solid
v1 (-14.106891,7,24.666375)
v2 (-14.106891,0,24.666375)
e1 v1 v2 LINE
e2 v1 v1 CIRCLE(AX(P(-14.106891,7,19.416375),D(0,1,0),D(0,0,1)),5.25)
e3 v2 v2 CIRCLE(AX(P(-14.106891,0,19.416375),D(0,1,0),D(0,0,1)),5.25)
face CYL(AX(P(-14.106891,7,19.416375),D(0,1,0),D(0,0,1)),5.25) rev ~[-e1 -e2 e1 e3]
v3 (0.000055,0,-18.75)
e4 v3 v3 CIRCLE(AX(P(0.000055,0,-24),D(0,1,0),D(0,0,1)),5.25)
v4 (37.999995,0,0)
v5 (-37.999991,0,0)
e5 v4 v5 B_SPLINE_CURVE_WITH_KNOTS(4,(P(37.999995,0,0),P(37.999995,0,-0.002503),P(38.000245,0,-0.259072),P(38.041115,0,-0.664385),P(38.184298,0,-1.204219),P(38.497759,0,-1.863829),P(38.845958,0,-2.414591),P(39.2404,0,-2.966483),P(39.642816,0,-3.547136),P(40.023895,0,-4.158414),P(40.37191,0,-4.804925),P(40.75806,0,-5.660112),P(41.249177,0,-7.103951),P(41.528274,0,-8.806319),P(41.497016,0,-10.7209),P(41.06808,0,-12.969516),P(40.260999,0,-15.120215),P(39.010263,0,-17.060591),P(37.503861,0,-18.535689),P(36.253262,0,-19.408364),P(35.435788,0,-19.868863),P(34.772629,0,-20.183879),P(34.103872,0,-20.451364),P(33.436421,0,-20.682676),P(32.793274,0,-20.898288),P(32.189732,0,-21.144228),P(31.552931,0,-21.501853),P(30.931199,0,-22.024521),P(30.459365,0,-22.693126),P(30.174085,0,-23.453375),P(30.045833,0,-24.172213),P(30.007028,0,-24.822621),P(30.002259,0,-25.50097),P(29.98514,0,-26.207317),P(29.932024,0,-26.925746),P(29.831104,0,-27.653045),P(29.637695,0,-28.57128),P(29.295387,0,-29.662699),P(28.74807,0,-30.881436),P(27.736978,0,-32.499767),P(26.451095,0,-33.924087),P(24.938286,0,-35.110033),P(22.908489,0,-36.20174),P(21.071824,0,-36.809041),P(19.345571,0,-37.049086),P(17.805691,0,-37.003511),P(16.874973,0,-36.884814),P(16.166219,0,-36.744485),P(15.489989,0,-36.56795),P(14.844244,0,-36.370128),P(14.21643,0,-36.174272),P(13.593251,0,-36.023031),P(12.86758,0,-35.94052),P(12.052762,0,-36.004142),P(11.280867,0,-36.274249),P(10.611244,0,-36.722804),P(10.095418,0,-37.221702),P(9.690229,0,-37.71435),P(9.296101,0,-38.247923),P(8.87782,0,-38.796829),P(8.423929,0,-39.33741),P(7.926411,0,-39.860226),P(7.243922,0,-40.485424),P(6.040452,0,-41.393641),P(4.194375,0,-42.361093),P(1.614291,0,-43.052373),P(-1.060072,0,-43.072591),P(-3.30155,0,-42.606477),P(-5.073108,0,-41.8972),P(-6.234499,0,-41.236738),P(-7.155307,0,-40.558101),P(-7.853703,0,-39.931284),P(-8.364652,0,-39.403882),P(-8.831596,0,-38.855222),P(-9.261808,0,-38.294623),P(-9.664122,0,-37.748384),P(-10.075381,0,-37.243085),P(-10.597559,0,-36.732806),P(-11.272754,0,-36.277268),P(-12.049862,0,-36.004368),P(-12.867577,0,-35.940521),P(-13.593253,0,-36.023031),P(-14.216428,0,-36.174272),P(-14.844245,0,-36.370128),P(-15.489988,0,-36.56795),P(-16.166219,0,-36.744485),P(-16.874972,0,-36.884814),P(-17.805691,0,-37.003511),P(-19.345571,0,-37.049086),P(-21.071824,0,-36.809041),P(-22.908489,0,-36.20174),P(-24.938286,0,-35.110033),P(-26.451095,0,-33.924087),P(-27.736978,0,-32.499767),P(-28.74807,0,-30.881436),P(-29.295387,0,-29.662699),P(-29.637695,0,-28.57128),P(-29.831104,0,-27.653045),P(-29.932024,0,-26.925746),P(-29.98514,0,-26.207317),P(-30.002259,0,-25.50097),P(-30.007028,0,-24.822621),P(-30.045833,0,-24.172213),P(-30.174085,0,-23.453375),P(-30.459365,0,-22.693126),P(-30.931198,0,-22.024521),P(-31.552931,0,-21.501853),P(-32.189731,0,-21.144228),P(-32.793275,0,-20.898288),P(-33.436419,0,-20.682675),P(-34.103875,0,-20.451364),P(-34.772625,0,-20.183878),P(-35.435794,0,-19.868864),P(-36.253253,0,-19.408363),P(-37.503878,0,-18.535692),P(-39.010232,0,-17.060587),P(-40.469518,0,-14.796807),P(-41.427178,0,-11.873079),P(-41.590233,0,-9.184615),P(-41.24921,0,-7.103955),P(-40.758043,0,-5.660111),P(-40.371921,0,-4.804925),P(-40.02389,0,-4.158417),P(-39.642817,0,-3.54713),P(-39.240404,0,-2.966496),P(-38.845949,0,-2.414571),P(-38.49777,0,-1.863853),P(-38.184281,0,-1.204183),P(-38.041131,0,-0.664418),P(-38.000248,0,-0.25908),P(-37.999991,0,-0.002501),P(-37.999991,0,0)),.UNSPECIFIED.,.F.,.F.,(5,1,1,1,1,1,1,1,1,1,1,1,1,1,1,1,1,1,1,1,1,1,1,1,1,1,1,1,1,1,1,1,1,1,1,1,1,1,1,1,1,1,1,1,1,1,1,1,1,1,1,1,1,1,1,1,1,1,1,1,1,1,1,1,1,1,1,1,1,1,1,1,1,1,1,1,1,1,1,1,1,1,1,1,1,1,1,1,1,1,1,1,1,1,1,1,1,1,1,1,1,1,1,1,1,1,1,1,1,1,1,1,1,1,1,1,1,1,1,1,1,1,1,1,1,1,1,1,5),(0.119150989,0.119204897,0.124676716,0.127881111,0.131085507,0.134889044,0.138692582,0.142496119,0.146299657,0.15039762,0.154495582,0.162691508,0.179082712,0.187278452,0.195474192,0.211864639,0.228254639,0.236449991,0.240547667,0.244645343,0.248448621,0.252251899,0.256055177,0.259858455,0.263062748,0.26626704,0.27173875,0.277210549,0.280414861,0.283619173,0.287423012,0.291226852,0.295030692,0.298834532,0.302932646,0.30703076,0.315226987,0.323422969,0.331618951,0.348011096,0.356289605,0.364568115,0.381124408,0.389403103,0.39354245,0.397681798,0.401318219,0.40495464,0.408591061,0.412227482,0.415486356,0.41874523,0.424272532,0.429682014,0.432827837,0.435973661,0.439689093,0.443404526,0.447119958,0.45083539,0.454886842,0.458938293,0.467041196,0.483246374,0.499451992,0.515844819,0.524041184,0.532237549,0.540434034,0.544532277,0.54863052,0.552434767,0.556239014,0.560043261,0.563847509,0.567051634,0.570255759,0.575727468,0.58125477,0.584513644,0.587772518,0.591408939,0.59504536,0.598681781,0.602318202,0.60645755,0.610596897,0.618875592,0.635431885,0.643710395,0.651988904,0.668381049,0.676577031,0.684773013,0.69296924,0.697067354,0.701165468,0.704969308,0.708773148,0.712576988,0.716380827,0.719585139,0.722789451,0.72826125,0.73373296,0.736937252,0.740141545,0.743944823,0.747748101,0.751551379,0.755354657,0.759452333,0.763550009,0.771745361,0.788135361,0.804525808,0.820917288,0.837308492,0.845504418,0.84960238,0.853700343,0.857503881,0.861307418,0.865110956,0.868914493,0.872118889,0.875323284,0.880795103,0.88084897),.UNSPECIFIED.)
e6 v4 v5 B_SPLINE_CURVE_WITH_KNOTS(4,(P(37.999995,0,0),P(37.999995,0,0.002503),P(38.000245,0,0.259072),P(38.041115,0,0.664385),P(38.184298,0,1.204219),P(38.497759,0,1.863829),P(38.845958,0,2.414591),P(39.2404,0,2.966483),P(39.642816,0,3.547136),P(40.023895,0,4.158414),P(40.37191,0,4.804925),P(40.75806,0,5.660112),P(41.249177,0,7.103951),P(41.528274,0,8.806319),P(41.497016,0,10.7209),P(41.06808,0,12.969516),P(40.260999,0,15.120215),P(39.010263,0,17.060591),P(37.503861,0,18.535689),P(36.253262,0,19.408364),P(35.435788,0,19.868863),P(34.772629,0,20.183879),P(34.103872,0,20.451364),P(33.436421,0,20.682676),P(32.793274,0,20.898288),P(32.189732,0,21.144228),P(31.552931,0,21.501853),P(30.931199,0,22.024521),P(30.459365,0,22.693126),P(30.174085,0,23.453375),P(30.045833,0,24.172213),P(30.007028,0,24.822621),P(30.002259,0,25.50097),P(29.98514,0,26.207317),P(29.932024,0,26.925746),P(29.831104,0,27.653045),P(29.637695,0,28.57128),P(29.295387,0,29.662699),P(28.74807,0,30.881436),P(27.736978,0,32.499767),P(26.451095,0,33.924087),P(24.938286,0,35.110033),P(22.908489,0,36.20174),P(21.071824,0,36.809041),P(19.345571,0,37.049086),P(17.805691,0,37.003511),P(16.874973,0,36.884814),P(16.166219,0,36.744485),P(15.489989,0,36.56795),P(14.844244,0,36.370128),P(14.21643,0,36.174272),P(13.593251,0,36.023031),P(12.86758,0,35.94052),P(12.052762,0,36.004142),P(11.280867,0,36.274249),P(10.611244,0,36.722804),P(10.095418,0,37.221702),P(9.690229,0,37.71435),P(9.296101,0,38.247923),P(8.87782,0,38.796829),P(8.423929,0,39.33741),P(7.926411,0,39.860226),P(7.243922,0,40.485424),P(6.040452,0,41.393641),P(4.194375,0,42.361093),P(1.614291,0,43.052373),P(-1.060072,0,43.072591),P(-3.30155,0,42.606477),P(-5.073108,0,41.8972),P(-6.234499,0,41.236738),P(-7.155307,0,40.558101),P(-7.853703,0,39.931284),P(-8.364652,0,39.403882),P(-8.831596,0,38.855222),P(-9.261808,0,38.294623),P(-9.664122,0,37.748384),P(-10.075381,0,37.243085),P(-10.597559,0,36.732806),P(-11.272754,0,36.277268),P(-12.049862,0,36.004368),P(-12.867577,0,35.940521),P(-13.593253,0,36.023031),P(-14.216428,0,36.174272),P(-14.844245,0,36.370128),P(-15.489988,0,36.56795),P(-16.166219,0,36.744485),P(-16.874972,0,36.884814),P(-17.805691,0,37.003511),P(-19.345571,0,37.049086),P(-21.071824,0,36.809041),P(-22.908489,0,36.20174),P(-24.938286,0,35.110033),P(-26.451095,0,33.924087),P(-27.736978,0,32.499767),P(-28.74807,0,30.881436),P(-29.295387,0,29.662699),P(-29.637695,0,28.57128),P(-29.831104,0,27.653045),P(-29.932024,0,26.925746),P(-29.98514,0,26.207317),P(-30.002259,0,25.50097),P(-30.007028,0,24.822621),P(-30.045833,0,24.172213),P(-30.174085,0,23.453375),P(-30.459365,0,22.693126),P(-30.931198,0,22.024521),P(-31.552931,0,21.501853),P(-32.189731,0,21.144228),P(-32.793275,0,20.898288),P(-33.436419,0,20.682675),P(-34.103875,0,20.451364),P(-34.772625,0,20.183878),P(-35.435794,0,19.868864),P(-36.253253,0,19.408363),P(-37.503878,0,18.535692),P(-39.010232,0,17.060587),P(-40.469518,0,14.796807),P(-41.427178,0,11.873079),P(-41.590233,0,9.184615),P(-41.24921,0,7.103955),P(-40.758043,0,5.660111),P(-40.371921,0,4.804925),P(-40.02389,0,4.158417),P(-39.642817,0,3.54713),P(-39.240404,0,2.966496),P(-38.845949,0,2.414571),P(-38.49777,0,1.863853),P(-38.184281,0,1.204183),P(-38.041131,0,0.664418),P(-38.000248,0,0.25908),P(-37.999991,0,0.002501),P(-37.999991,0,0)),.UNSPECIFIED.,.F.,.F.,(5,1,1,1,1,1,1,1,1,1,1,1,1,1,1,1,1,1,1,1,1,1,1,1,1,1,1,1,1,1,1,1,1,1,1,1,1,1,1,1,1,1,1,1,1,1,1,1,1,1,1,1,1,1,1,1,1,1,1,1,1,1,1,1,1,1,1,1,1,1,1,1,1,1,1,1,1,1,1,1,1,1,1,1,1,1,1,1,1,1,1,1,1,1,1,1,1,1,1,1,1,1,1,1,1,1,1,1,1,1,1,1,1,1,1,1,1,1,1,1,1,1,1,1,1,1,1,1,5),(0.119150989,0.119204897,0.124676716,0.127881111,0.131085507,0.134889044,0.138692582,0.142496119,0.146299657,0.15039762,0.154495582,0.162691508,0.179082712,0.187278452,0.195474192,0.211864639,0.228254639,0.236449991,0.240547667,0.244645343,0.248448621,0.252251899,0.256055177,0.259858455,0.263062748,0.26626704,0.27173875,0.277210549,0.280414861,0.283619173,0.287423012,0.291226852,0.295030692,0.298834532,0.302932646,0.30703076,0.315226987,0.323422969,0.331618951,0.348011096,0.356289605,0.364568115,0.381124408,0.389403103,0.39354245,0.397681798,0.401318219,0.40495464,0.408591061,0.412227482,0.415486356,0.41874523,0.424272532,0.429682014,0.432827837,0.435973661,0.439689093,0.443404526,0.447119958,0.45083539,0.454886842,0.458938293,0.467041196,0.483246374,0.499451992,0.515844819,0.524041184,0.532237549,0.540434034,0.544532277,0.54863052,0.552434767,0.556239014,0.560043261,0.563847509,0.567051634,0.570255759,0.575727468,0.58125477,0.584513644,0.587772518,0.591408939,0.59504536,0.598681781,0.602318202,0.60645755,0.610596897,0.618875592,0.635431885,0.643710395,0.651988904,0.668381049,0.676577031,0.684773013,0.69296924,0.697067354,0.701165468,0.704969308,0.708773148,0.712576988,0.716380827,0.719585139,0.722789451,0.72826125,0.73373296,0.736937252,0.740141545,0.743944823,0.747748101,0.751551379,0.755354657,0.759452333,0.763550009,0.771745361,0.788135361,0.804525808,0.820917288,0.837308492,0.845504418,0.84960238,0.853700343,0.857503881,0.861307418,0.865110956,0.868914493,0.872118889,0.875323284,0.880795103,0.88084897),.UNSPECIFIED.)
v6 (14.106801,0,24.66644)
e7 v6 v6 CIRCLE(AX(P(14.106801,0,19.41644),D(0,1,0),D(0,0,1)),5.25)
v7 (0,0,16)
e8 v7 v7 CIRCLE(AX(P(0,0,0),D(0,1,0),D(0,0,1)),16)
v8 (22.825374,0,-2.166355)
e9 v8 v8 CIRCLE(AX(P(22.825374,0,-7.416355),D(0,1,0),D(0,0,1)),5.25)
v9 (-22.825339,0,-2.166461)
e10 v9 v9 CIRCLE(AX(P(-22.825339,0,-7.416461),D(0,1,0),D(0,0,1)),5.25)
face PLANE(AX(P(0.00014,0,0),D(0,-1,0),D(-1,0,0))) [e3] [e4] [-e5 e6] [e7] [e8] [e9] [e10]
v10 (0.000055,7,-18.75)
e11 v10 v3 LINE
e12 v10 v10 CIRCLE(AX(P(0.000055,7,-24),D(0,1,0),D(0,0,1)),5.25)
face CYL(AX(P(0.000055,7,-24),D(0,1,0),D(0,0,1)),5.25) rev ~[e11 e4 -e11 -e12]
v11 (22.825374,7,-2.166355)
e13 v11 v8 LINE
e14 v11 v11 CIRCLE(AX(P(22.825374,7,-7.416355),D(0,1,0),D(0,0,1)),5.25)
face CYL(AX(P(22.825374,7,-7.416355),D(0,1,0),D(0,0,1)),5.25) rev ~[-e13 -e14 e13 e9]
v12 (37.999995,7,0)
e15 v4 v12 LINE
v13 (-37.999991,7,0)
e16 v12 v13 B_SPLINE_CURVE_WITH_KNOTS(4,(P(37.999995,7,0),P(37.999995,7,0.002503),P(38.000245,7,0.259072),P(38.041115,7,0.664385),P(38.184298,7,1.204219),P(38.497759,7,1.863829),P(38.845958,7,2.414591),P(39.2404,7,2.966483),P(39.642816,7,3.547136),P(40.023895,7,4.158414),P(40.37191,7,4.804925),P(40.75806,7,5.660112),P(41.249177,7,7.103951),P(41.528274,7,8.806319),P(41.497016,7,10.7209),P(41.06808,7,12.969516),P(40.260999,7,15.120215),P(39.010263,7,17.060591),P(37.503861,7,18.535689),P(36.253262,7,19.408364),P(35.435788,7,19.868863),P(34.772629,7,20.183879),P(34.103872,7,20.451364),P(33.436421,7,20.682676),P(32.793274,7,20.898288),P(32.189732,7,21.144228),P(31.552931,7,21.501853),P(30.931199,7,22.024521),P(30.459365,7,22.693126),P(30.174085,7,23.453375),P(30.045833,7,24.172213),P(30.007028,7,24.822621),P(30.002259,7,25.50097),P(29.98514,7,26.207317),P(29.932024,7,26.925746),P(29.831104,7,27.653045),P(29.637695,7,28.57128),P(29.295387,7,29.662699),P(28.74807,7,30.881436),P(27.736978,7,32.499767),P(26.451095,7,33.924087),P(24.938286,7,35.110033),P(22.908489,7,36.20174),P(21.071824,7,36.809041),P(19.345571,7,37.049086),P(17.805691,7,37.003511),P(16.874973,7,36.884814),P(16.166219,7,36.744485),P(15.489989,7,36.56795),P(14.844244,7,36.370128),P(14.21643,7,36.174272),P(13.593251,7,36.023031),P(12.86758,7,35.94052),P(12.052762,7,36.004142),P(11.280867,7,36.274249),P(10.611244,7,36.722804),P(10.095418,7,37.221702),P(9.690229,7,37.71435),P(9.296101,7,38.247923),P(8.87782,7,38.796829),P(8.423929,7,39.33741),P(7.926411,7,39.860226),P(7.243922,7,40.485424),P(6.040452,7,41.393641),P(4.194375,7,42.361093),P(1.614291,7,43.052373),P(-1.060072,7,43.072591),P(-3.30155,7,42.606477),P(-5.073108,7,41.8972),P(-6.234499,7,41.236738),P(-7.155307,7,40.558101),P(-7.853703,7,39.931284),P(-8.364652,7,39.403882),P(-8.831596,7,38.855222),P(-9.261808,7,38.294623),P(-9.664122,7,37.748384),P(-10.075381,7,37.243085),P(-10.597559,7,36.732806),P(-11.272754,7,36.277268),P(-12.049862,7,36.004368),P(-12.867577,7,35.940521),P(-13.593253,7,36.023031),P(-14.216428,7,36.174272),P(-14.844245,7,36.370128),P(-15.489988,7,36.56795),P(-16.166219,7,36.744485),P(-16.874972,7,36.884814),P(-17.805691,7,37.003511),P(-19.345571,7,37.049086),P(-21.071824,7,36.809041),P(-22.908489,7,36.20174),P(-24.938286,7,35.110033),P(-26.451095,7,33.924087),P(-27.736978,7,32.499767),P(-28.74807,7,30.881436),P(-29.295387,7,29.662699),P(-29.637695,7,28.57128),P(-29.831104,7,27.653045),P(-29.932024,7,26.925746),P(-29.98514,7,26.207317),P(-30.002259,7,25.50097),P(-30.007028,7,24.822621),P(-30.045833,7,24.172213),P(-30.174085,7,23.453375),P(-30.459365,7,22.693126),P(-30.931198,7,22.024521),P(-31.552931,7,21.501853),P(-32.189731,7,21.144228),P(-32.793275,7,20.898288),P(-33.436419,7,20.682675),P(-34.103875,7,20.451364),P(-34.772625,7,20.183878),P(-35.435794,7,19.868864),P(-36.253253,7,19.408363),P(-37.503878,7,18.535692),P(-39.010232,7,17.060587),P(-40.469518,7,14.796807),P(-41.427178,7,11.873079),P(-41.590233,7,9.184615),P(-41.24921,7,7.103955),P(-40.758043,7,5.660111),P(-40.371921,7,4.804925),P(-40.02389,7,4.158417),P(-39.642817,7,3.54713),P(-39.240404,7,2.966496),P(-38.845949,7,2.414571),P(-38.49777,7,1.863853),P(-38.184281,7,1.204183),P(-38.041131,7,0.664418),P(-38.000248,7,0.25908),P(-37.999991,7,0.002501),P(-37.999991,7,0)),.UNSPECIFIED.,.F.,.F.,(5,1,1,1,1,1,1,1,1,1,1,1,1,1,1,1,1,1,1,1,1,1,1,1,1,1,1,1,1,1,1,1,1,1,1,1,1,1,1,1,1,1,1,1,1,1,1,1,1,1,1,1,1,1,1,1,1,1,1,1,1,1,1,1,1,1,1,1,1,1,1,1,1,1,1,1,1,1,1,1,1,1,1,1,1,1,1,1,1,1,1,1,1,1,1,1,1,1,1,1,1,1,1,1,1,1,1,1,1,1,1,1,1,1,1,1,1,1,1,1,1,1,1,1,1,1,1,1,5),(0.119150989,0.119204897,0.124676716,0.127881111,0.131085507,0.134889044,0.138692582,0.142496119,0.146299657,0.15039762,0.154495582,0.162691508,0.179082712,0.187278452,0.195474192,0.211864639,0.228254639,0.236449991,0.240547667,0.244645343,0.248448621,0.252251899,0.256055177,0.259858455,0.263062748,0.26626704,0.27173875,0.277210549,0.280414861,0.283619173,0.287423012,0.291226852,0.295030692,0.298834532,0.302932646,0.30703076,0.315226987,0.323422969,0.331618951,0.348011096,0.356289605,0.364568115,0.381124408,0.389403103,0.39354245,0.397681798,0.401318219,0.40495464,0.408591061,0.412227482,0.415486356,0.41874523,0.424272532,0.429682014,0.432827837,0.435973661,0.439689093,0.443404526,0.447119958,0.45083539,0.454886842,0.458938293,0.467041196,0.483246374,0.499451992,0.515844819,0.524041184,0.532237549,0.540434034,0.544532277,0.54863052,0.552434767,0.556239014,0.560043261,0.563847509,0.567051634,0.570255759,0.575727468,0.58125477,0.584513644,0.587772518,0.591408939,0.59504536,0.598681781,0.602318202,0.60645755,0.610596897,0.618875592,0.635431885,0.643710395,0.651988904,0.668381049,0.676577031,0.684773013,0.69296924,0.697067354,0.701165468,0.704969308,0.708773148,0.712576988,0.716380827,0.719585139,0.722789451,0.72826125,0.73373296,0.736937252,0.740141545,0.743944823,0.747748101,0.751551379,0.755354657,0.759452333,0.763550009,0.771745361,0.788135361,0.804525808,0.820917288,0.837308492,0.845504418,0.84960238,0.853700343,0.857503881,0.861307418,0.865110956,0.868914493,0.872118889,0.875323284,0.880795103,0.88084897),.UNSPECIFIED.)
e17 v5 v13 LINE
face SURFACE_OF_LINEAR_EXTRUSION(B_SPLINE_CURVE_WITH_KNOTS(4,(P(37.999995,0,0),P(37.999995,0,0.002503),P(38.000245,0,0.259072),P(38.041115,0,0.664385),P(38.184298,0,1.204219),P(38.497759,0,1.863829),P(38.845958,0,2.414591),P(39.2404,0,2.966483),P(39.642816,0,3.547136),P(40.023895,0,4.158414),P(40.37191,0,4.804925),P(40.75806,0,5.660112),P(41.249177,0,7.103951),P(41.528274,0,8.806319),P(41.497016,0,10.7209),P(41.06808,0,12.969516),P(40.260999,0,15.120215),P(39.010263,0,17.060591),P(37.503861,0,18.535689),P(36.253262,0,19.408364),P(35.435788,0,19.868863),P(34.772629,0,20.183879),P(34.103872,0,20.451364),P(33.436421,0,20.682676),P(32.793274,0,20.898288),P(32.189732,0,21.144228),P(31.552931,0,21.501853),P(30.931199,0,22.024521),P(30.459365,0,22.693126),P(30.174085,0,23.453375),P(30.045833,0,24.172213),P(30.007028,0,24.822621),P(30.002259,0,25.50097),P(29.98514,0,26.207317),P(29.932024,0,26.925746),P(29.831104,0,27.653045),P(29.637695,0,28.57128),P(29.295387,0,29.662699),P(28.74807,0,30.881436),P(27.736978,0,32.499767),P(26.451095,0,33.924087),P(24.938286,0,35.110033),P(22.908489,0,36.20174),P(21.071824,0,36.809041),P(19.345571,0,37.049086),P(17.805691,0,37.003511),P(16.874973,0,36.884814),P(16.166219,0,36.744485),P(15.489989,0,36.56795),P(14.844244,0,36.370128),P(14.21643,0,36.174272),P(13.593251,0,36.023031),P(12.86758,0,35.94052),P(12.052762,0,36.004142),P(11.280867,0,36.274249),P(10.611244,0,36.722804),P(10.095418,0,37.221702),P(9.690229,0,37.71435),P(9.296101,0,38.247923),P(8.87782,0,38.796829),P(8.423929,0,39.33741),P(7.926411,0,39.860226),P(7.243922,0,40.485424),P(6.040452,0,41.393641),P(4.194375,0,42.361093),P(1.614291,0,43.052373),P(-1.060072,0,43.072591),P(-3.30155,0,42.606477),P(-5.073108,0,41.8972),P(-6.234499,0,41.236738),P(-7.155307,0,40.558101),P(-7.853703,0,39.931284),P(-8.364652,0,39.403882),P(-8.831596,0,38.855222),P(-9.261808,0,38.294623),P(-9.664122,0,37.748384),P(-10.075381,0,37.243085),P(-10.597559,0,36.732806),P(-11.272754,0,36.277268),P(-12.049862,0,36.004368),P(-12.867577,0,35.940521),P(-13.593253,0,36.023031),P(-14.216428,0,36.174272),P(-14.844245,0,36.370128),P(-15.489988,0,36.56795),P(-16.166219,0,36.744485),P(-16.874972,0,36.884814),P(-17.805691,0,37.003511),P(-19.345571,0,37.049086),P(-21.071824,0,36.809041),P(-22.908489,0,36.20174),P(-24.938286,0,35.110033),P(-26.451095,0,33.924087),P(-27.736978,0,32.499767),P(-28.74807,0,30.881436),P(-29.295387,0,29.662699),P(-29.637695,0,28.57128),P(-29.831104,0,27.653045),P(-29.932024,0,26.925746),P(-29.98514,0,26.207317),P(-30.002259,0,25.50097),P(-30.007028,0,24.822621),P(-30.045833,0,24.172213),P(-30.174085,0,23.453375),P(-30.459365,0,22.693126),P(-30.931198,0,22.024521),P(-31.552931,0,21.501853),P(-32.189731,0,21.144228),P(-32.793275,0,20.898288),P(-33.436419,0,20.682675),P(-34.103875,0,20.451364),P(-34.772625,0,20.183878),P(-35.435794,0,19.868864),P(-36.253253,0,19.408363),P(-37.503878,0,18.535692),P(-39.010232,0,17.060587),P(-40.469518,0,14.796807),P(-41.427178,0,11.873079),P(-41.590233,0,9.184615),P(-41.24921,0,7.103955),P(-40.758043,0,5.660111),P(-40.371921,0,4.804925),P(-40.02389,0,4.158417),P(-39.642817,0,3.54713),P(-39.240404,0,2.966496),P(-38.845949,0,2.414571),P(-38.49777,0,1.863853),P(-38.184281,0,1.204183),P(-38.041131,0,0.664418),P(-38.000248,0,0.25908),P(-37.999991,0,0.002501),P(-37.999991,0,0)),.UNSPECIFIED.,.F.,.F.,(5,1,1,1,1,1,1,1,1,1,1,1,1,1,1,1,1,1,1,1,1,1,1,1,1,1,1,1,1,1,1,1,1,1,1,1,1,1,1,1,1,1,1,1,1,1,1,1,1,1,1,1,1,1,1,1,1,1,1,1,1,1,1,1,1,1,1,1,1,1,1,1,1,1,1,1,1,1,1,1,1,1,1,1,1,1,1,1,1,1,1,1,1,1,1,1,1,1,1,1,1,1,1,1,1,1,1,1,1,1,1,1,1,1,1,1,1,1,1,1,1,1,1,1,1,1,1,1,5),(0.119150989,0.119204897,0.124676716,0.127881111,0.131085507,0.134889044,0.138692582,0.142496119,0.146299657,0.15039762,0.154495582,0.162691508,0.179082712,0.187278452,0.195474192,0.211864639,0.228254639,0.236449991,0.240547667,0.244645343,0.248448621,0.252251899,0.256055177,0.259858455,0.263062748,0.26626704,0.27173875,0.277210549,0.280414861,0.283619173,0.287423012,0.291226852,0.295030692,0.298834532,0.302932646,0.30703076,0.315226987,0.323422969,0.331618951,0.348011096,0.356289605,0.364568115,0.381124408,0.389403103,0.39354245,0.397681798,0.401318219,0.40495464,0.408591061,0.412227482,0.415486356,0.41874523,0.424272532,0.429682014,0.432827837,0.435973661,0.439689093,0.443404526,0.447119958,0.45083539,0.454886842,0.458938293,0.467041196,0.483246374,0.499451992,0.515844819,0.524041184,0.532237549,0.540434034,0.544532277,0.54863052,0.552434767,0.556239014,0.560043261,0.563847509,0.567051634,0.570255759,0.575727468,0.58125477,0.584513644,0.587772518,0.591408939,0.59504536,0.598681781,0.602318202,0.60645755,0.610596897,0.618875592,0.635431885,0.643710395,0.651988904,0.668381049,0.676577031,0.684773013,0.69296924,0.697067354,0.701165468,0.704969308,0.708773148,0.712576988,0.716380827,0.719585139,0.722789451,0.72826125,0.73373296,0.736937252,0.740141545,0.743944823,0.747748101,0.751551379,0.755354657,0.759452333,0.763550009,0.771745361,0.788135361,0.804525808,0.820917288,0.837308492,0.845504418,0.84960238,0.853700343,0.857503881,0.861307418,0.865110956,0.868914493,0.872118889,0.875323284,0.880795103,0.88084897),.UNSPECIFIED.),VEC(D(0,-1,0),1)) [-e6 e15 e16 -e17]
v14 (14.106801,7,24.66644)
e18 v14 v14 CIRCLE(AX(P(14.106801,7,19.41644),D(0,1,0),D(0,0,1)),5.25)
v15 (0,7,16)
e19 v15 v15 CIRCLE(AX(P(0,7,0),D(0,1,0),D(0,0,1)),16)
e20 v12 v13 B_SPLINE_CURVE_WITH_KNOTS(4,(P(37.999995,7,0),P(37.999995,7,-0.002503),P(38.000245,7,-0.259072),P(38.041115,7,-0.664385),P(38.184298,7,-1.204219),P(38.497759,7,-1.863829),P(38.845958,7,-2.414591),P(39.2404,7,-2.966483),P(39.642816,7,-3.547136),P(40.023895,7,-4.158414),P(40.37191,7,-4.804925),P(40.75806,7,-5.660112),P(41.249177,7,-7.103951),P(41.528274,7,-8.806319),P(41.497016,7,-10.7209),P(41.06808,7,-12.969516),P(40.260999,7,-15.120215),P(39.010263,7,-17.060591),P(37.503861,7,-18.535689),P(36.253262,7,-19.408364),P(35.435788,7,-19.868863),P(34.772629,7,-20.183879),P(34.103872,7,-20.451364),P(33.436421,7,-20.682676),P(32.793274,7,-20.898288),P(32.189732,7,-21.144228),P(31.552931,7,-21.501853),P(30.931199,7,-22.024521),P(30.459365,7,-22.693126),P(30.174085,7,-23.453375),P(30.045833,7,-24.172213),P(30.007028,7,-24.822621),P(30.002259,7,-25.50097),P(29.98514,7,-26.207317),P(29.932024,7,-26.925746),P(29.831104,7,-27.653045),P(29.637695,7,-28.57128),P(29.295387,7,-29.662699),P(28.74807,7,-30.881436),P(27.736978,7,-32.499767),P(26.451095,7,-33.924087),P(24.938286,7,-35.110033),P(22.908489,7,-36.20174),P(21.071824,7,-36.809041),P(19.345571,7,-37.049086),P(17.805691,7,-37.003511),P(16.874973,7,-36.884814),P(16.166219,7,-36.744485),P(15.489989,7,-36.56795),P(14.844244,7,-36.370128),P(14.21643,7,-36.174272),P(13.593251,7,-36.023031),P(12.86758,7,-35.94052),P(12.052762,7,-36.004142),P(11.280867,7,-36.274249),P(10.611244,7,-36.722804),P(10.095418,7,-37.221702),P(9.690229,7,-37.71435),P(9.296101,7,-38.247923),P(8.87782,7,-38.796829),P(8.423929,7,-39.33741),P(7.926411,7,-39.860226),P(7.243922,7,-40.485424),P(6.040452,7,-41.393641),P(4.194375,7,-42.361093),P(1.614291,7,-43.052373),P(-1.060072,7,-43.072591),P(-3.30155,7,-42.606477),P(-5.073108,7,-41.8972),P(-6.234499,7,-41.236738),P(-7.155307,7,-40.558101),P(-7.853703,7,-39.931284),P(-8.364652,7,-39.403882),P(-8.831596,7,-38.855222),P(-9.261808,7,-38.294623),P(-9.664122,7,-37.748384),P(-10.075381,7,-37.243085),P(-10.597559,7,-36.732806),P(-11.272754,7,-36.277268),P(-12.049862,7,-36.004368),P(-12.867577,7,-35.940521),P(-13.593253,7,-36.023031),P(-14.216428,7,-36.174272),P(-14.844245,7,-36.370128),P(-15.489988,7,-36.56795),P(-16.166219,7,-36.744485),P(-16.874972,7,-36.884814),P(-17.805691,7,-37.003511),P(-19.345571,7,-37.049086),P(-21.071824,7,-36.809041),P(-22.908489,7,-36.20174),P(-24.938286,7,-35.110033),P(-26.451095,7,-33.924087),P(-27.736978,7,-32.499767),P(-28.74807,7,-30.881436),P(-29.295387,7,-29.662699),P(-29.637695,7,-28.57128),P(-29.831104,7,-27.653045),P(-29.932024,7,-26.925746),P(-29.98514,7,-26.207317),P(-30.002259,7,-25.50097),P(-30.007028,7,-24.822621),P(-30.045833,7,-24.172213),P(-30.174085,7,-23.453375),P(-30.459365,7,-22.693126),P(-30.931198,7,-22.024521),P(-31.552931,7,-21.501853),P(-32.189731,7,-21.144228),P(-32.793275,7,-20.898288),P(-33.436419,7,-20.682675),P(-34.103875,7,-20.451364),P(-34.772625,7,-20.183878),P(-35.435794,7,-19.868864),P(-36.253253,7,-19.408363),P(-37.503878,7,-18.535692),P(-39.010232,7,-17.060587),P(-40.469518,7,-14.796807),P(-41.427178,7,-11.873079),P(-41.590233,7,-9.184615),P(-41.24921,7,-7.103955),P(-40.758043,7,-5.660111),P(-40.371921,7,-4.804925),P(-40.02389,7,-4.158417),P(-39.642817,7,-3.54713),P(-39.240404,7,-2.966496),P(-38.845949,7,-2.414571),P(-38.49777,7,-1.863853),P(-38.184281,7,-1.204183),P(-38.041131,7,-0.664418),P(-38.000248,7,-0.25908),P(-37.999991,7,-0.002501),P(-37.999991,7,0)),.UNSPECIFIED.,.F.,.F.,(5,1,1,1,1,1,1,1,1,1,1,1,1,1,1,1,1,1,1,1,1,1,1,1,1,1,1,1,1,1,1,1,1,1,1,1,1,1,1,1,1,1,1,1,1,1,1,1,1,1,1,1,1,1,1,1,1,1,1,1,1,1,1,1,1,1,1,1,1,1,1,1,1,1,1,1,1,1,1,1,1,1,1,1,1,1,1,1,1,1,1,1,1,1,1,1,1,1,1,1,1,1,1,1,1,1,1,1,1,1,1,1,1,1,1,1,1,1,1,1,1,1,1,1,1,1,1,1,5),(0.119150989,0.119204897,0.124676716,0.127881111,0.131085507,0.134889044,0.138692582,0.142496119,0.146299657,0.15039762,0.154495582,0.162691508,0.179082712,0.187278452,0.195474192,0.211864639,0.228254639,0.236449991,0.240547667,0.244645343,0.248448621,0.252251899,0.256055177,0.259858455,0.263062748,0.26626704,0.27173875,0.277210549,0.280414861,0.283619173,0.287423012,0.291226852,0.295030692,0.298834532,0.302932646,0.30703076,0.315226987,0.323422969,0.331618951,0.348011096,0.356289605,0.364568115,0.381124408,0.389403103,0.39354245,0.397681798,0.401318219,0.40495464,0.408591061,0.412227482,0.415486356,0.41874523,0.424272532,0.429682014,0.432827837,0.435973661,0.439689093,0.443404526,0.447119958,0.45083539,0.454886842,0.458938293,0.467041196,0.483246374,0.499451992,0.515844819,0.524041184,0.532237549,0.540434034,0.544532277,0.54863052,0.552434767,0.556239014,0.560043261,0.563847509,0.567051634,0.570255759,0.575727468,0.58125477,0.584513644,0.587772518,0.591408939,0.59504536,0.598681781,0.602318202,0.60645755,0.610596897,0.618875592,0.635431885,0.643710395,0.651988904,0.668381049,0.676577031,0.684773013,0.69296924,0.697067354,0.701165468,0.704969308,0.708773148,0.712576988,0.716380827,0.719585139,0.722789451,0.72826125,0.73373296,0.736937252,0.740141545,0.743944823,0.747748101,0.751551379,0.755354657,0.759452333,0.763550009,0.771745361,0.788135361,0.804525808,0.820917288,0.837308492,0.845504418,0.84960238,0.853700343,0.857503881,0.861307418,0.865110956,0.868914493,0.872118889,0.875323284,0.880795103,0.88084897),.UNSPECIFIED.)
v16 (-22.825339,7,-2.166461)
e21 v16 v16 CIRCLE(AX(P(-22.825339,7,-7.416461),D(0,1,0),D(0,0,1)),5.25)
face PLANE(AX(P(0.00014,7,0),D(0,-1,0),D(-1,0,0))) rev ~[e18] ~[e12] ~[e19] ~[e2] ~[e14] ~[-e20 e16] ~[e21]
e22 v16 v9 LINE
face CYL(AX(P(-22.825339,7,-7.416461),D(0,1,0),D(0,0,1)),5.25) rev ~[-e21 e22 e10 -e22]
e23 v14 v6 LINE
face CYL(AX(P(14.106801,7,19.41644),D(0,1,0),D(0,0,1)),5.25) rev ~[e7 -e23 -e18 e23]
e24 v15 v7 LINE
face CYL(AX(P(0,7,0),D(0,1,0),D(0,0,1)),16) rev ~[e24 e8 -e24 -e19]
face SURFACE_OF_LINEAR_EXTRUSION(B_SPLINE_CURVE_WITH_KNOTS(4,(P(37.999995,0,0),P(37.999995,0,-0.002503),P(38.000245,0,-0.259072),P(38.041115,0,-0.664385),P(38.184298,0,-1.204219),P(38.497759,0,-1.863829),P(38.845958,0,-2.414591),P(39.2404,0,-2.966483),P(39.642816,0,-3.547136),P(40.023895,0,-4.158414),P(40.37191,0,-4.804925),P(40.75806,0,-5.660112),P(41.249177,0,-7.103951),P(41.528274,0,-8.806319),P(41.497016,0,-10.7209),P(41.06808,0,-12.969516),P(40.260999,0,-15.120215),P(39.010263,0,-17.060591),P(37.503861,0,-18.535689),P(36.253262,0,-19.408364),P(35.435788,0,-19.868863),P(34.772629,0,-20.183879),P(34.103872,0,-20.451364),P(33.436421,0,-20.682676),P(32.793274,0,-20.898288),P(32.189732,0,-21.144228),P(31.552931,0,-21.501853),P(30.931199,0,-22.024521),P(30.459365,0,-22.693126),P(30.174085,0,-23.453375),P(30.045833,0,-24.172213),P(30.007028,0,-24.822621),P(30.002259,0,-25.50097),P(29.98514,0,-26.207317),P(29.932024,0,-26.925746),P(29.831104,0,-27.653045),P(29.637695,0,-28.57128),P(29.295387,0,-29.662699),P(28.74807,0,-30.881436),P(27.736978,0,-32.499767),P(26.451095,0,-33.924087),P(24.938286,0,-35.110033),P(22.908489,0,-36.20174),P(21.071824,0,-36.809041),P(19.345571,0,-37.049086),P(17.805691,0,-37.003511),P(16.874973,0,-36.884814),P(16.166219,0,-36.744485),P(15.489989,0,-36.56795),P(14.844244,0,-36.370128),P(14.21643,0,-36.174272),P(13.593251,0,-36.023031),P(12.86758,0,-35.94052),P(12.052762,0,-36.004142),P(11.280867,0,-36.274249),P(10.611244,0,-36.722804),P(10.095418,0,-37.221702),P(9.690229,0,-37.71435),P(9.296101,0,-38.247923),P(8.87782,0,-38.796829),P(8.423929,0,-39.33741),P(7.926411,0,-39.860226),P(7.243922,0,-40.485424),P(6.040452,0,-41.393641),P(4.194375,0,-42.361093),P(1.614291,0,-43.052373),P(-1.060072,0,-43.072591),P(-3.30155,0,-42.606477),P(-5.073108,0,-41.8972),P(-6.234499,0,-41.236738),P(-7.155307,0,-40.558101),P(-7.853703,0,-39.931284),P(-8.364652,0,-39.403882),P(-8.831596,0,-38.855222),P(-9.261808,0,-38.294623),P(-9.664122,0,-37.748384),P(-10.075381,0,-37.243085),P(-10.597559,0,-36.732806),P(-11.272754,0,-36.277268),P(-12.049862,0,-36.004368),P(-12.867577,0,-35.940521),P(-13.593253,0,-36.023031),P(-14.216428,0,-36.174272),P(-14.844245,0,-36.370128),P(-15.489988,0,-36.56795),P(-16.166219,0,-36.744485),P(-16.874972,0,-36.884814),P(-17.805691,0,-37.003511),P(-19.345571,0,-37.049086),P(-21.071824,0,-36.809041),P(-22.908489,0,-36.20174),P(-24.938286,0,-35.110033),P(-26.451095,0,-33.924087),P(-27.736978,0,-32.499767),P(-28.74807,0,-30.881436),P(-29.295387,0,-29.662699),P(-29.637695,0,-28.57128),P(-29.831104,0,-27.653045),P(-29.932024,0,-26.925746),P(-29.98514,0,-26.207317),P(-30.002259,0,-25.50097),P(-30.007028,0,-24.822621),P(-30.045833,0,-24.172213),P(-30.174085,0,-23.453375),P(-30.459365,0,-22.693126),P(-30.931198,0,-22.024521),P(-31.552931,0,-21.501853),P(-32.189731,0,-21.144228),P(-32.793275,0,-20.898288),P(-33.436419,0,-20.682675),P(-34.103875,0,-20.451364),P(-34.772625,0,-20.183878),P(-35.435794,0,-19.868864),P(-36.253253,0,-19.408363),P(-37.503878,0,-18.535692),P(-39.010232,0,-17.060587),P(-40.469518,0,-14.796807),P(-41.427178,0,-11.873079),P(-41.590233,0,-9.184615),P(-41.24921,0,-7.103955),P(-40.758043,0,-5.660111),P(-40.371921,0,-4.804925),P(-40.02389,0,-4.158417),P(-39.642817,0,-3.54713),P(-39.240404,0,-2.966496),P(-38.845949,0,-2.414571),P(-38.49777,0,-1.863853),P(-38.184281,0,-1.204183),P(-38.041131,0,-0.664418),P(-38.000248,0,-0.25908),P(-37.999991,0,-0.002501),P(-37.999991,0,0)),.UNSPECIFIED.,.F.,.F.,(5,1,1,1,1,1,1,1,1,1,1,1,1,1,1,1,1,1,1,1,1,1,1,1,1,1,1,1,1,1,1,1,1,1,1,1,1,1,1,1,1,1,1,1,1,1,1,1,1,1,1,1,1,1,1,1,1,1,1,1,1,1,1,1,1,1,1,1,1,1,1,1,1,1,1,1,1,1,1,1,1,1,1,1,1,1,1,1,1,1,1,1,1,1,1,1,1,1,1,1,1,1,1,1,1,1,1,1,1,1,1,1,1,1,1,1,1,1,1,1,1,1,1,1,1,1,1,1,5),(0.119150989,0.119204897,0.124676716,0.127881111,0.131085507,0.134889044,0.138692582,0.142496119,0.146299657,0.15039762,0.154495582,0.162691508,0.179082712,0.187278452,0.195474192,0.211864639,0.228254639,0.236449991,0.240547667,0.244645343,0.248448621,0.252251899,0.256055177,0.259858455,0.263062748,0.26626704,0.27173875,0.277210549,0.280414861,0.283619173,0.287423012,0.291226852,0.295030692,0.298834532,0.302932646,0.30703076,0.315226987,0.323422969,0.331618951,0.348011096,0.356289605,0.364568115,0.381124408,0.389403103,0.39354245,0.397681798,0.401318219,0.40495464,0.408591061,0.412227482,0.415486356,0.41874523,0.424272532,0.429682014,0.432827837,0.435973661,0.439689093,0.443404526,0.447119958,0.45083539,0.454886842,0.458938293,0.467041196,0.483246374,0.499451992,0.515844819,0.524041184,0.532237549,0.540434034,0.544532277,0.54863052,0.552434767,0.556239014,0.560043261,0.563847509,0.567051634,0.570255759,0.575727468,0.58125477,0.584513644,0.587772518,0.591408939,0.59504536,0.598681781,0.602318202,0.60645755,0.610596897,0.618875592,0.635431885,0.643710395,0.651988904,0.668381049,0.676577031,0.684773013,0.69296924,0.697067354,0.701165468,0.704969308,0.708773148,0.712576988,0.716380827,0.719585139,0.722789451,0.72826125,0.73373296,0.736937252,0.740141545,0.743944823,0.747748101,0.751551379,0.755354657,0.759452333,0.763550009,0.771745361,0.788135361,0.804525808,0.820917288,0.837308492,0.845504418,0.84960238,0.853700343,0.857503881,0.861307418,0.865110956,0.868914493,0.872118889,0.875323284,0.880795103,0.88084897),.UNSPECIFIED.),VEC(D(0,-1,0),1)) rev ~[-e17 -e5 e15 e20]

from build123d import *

# Parameters (mm, degrees)
BOSS_EXTRUDE2_DEPTH = 7
SKETCH4_R           = 16
SKETCH4_R_2         = 5.25
CUT_EXTRUDE2_DEPTH  = 7


with BuildPart() as part:
    # Sketch3 → Boss-Extrude2 (new body)
    with BuildSketch(Plane(origin=(0, 0, 0), x_dir=(1, 0, 0), z_dir=(0, 1, 0))):
        with BuildLine():
            add(Edge.make_bspline(
                [(37.999995031, 0), (37.999995035, -0.002503026), (38.000245422, -0.259072005), (38.041115325, -0.664385307), (38.184298124, -1.204218531), (38.497758519, -1.863828796), (38.845957573, -2.414590918), (39.240400102, -2.966483313), (39.642816446, -3.547136277), (40.02389545, -4.158414144), (40.371910303, -4.80492538), (40.758059592, -5.660112215), (41.249176718, -7.103950541), (41.528273903, -8.806319447), (41.497015744, -10.720900092), (41.068079826, -12.969516283), (40.260999447, -15.12021462), (39.010262728, -17.06059134), (37.503860643, -18.53568914), (36.253262216, -19.408364388), (35.435787578, -19.868863267), (34.772629468, -20.183878771), (34.103872331, -20.451363935), (33.436420645, -20.682675573), (32.793274475, -20.898288143), (32.189731784, -21.144227966), (31.55293101, -21.501852707), (30.931198626, -22.024520791), (30.459365154, -22.6931259), (30.174084853, -23.453375444), (30.045833171, -24.172212681), (30.00702788, -24.822621233), (30.002258683, -25.50097001), (29.985140425, -26.207316697), (29.932024331, -26.925746124), (29.83110415, -27.653044788), (29.637695224, -28.57128033), (29.295386908, -29.662699098), (28.748070102, -30.881436214), (27.736977534, -32.499766602), (26.451094695, -33.924087149), (24.938286022, -35.110033408), (22.908489194, -36.201739825), (21.071824436, -36.809041131), (19.345571164, -37.049085902), (17.805690706, -37.003511369), (16.874972648, -36.884814174), (16.166218504, -36.744485184), (15.489988894, -36.567949913), (14.844244119, -36.370127843), (14.216429653, -36.174272274), (13.593250528, -36.023031126), (12.867579801, -35.940520402), (12.052761517, -36.004141799), (11.280867307, -36.274248759), (10.611243958, -36.722804045), (10.095417658, -37.221701701), (9.690229479, -37.714349755), (9.296101288, -38.247922731), (8.877819773, -38.796828934), (8.423928891, -39.33741011), (7.926411033, -39.860225601), (7.243922247, -40.485424093), (6.040451793, -41.393640682), (4.194374577, -42.361093034), (1.614290804, -43.052373169), (-1.060071777, -43.072591446), (-3.301549718, -42.606476502), (-5.073108074, -41.897199704), (-6.234498632, -41.236737822), (-7.15530684, -40.558101052), (-7.853702835, -39.931284399), (-8.364652184, -39.403882059), (-8.831595833, -38.855222204), (-9.26180822, -38.294622796), (-9.664122177, -37.74838432), (-10.075380625, -37.243085064), (-10.597558744, -36.732806208), (-11.272754404, -36.277267619), (-12.049862358, -36.004367776), (-12.867576627, -35.940520847), (-13.593252632, -36.023030835), (-14.216428061, -36.174272494), (-14.844245161, -36.3701277), (-15.489988295, -36.567949996), (-16.166218833, -36.744485138), (-16.874972499, -36.884814195), (-17.80569078, -37.003511359), (-19.345571106, -37.04908591), (-21.071824473, -36.809041126), (-22.908489176, -36.201739828), (-24.938286033, -35.110033406), (-26.451094687, -33.92408715), (-27.736977538, -32.499766601), (-28.748070099, -30.881436215), (-29.295386909, -29.662699098), (-29.637695224, -28.57128033), (-29.831104148, -27.653044788), (-29.932024337, -26.925746125), (-29.985140414, -26.207316696), (-30.002258702, -25.500970013), (-30.00702785, -24.822621229), (-30.045833208, -24.172212686), (-30.174084799, -23.453375436), (-30.459365251, -22.693125914), (-30.931198474, -22.024520769), (-31.552931219, -21.501852737), (-32.189731427, -21.144227914), (-32.793275261, -20.898288257), (-33.436419083, -20.682675347), (-34.103874933, -20.451364313), (-34.772625281, -20.183878164), (-35.435793704, -19.868864155), (-36.253252735, -19.408363013), (-37.503878269, -18.535691694), (-39.010231684, -17.060586844), (-40.46951771, -14.796806618), (-41.427177517, -11.873078883), (-41.590232687, -9.184615055), (-41.249209599, -7.10395472), (-40.75804268, -5.660110565), (-40.371920503, -4.804925177), (-40.023889919, -4.158417099), (-39.642817404, -3.547129543), (-39.240403781, -2.966495762), (-38.845948976, -2.414571328), (-38.497770149, -1.863852962), (-38.184280718, -1.204183445), (-38.04113114, -0.664417555), (-38.00024784, -0.259079883), (-37.999991289, -0.002501268), (-37.999991223, 0)],
                knots=[0.119150989, 0.119150989, 0.119150989, 0.119150989, 0.119150989, 0.119204897, 0.124676716, 0.127881111, 0.131085507, 0.134889044, 0.138692582, 0.142496119, 0.146299657, 0.15039762, 0.154495582, 0.162691508, 0.179082712, 0.187278452, 0.195474192, 0.211864639, 0.228254639, 0.236449991, 0.240547667, 0.244645343, 0.248448621, 0.252251899, 0.256055177, 0.259858455, 0.263062748, 0.26626704, 0.27173875, 0.277210549, 0.280414861, 0.283619173, 0.287423012, 0.291226852, 0.295030692, 0.298834532, 0.302932646, 0.30703076, 0.315226987, 0.323422969, 0.331618951, 0.348011096, 0.356289605, 0.364568115, 0.381124408, 0.389403103, 0.39354245, 0.397681798, 0.401318219, 0.40495464, 0.408591061, 0.412227482, 0.415486356, 0.41874523, 0.424272532, 0.429682014, 0.432827837, 0.435973661, 0.439689093, 0.443404526, 0.447119958, 0.45083539, 0.454886842, 0.458938293, 0.467041196, 0.483246374, 0.499451992, 0.515844819, 0.524041184, 0.532237549, 0.540434034, 0.544532277, 0.54863052, 0.552434767, 0.556239014, 0.560043261, 0.563847509, 0.567051634, 0.570255759, 0.575727468, 0.58125477, 0.584513644, 0.587772518, 0.591408939, 0.59504536, 0.598681781, 0.602318202, 0.60645755, 0.610596897, 0.618875592, 0.635431885, 0.643710395, 0.651988904, 0.668381049, 0.676577031, 0.684773013, 0.69296924, 0.697067354, 0.701165468, 0.704969308, 0.708773148, 0.712576988, 0.716380827, 0.719585139, 0.722789451, 0.72826125, 0.73373296, 0.736937252, 0.740141545, 0.743944823, 0.747748101, 0.751551379, 0.755354657, 0.759452333, 0.763550009, 0.771745361, 0.788135361, 0.804525808, 0.820917288, 0.837308492, 0.845504418, 0.84960238, 0.853700343, 0.857503881, 0.861307418, 0.865110956, 0.868914493, 0.872118889, 0.875323284, 0.880795103, 0.88084897, 0.88084897, 0.88084897, 0.88084897, 0.88084897], degree=4))
            add(Edge.make_bspline(
                [(37.999995031, 0), (37.999995035, 0.002503026), (38.000245422, 0.259072005), (38.041115325, 0.664385307), (38.184298124, 1.204218531), (38.497758519, 1.863828796), (38.845957573, 2.414590918), (39.240400102, 2.966483313), (39.642816446, 3.547136277), (40.02389545, 4.158414144), (40.371910304, 4.80492538), (40.758059592, 5.660112215), (41.249176718, 7.103950541), (41.528273903, 8.806319447), (41.497015744, 10.720900092), (41.068079826, 12.969516283), (40.260999447, 15.12021462), (39.010262728, 17.06059134), (37.503860643, 18.53568914), (36.253262216, 19.408364388), (35.435787578, 19.868863267), (34.772629468, 20.183878771), (34.103872331, 20.451363935), (33.436420645, 20.682675573), (32.793274475, 20.898288143), (32.189731784, 21.144227966), (31.55293101, 21.501852707), (30.931198626, 22.024520791), (30.459365154, 22.6931259), (30.174084853, 23.453375444), (30.045833171, 24.172212681), (30.00702788, 24.822621233), (30.002258683, 25.50097001), (29.985140425, 26.207316697), (29.932024331, 26.925746124), (29.83110415, 27.653044788), (29.637695224, 28.57128033), (29.295386908, 29.662699098), (28.748070102, 30.881436214), (27.736977534, 32.499766602), (26.451094695, 33.924087149), (24.938286022, 35.110033408), (22.908489194, 36.201739825), (21.071824436, 36.809041131), (19.345571164, 37.049085902), (17.805690706, 37.003511369), (16.874972648, 36.884814174), (16.166218504, 36.744485184), (15.489988894, 36.567949913), (14.844244119, 36.370127843), (14.216429653, 36.174272274), (13.593250528, 36.023031126), (12.867579801, 35.940520402), (12.052761517, 36.004141799), (11.280867307, 36.274248759), (10.611243958, 36.722804045), (10.095417658, 37.221701701), (9.690229479, 37.714349755), (9.296101288, 38.247922731), (8.877819773, 38.796828934), (8.423928891, 39.33741011), (7.926411033, 39.860225601), (7.243922247, 40.485424093), (6.040451793, 41.393640682), (4.194374577, 42.361093034), (1.614290804, 43.052373169), (-1.060071777, 43.072591446), (-3.301549718, 42.606476502), (-5.073108073, 41.897199704), (-6.234498632, 41.236737822), (-7.15530684, 40.558101052), (-7.853702835, 39.931284399), (-8.364652184, 39.403882059), (-8.831595833, 38.855222204), (-9.26180822, 38.294622796), (-9.664122177, 37.74838432), (-10.075380625, 37.243085064), (-10.597558744, 36.732806208), (-11.272754404, 36.277267619), (-12.049862358, 36.004367776), (-12.867576627, 35.940520847), (-13.593252632, 36.023030835), (-14.216428061, 36.174272494), (-14.844245161, 36.3701277), (-15.489988295, 36.567949996), (-16.166218833, 36.744485138), (-16.874972499, 36.884814195), (-17.80569078, 37.003511359), (-19.345571106, 37.04908591), (-21.071824473, 36.809041126), (-22.908489176, 36.201739828), (-24.938286033, 35.110033406), (-26.451094687, 33.92408715), (-27.736977538, 32.499766601), (-28.748070099, 30.881436215), (-29.295386909, 29.662699098), (-29.637695224, 28.57128033), (-29.831104148, 27.653044788), (-29.932024337, 26.925746125), (-29.985140414, 26.207316696), (-30.002258702, 25.500970013), (-30.00702785, 24.822621229), (-30.045833208, 24.172212686), (-30.174084799, 23.453375436), (-30.459365251, 22.693125914), (-30.931198474, 22.024520769), (-31.552931219, 21.501852737), (-32.189731427, 21.144227914), (-32.793275261, 20.898288257), (-33.436419083, 20.682675347), (-34.103874933, 20.451364313), (-34.772625281, 20.183878164), (-35.435793704, 19.868864155), (-36.253252735, 19.408363013), (-37.503878269, 18.535691694), (-39.010231684, 17.060586844), (-40.46951771, 14.796806618), (-41.427177517, 11.873078883), (-41.590232687, 9.184615055), (-41.249209599, 7.10395472), (-40.75804268, 5.660110565), (-40.371920503, 4.804925177), (-40.023889919, 4.158417099), (-39.642817404, 3.547129543), (-39.240403781, 2.966495762), (-38.845948976, 2.414571328), (-38.497770149, 1.863852962), (-38.184280718, 1.204183445), (-38.04113114, 0.664417555), (-38.00024784, 0.259079883), (-37.999991289, 0.002501268), (-37.999991223, 0)],
                knots=[0.119150989, 0.119150989, 0.119150989, 0.119150989, 0.119150989, 0.119204897, 0.124676716, 0.127881111, 0.131085507, 0.134889044, 0.138692582, 0.142496119, 0.146299657, 0.15039762, 0.154495582, 0.162691508, 0.179082712, 0.187278452, 0.195474192, 0.211864639, 0.228254639, 0.236449991, 0.240547667, 0.244645343, 0.248448621, 0.252251899, 0.256055177, 0.259858455, 0.263062748, 0.26626704, 0.27173875, 0.277210549, 0.280414861, 0.283619173, 0.287423012, 0.291226852, 0.295030692, 0.298834532, 0.302932646, 0.30703076, 0.315226987, 0.323422969, 0.331618951, 0.348011096, 0.356289605, 0.364568115, 0.381124408, 0.389403103, 0.39354245, 0.397681798, 0.401318219, 0.40495464, 0.408591061, 0.412227482, 0.415486356, 0.41874523, 0.424272532, 0.429682014, 0.432827837, 0.435973661, 0.439689093, 0.443404526, 0.447119958, 0.45083539, 0.454886842, 0.458938293, 0.467041196, 0.483246374, 0.499451992, 0.515844819, 0.524041184, 0.532237549, 0.540434034, 0.544532277, 0.54863052, 0.552434767, 0.556239014, 0.560043261, 0.563847509, 0.567051634, 0.570255759, 0.575727468, 0.58125477, 0.584513644, 0.587772518, 0.591408939, 0.59504536, 0.598681781, 0.602318202, 0.60645755, 0.610596897, 0.618875592, 0.635431885, 0.643710395, 0.651988904, 0.668381049, 0.676577031, 0.684773013, 0.69296924, 0.697067354, 0.701165468, 0.704969308, 0.708773148, 0.712576988, 0.716380827, 0.719585139, 0.722789451, 0.72826125, 0.73373296, 0.736937252, 0.740141545, 0.743944823, 0.747748101, 0.751551379, 0.755354657, 0.759452333, 0.763550009, 0.771745361, 0.788135361, 0.804525808, 0.820917288, 0.837308492, 0.845504418, 0.84960238, 0.853700343, 0.857503881, 0.861307418, 0.865110956, 0.868914493, 0.872118889, 0.875323284, 0.880795103, 0.88084897, 0.88084897, 0.88084897, 0.88084897, 0.88084897], degree=4))
        make_face()
    extrude(amount=BOSS_EXTRUDE2_DEPTH)

    # Sketch4 → Cut-Extrude2 (cut)
    with BuildSketch(Plane(origin=(0, 7, 0), x_dir=(1, 0, 0), z_dir=(0, 1, 0))):
        with Locations(Location((0, 0, 0), (0, 0, 270))):
            Circle(SKETCH4_R)
        with Locations(Location((22.825373501, 7.416355207, 0), (0, 0, 270))):
            Circle(SKETCH4_R_2)
        with Locations(Location((14.106801262, -19.416440409, 0), (0, 0, 270))):
            Circle(SKETCH4_R_2)
        with Locations(Location((-14.106890848, -19.416375321, 0), (0, 0, 270))):
            Circle(SKETCH4_R_2)
        with Locations(Location((-22.825339281, 7.416460523, 0), (0, 0, 270))):
            Circle(SKETCH4_R_2)
        with Locations(Location((5.5368e-05, 24, 0), (0, 0, 270))):
            Circle(SKETCH4_R_2)
    extrude(amount=-CUT_EXTRUDE2_DEPTH, mode=Mode.SUBTRACT)


solid = part.part
